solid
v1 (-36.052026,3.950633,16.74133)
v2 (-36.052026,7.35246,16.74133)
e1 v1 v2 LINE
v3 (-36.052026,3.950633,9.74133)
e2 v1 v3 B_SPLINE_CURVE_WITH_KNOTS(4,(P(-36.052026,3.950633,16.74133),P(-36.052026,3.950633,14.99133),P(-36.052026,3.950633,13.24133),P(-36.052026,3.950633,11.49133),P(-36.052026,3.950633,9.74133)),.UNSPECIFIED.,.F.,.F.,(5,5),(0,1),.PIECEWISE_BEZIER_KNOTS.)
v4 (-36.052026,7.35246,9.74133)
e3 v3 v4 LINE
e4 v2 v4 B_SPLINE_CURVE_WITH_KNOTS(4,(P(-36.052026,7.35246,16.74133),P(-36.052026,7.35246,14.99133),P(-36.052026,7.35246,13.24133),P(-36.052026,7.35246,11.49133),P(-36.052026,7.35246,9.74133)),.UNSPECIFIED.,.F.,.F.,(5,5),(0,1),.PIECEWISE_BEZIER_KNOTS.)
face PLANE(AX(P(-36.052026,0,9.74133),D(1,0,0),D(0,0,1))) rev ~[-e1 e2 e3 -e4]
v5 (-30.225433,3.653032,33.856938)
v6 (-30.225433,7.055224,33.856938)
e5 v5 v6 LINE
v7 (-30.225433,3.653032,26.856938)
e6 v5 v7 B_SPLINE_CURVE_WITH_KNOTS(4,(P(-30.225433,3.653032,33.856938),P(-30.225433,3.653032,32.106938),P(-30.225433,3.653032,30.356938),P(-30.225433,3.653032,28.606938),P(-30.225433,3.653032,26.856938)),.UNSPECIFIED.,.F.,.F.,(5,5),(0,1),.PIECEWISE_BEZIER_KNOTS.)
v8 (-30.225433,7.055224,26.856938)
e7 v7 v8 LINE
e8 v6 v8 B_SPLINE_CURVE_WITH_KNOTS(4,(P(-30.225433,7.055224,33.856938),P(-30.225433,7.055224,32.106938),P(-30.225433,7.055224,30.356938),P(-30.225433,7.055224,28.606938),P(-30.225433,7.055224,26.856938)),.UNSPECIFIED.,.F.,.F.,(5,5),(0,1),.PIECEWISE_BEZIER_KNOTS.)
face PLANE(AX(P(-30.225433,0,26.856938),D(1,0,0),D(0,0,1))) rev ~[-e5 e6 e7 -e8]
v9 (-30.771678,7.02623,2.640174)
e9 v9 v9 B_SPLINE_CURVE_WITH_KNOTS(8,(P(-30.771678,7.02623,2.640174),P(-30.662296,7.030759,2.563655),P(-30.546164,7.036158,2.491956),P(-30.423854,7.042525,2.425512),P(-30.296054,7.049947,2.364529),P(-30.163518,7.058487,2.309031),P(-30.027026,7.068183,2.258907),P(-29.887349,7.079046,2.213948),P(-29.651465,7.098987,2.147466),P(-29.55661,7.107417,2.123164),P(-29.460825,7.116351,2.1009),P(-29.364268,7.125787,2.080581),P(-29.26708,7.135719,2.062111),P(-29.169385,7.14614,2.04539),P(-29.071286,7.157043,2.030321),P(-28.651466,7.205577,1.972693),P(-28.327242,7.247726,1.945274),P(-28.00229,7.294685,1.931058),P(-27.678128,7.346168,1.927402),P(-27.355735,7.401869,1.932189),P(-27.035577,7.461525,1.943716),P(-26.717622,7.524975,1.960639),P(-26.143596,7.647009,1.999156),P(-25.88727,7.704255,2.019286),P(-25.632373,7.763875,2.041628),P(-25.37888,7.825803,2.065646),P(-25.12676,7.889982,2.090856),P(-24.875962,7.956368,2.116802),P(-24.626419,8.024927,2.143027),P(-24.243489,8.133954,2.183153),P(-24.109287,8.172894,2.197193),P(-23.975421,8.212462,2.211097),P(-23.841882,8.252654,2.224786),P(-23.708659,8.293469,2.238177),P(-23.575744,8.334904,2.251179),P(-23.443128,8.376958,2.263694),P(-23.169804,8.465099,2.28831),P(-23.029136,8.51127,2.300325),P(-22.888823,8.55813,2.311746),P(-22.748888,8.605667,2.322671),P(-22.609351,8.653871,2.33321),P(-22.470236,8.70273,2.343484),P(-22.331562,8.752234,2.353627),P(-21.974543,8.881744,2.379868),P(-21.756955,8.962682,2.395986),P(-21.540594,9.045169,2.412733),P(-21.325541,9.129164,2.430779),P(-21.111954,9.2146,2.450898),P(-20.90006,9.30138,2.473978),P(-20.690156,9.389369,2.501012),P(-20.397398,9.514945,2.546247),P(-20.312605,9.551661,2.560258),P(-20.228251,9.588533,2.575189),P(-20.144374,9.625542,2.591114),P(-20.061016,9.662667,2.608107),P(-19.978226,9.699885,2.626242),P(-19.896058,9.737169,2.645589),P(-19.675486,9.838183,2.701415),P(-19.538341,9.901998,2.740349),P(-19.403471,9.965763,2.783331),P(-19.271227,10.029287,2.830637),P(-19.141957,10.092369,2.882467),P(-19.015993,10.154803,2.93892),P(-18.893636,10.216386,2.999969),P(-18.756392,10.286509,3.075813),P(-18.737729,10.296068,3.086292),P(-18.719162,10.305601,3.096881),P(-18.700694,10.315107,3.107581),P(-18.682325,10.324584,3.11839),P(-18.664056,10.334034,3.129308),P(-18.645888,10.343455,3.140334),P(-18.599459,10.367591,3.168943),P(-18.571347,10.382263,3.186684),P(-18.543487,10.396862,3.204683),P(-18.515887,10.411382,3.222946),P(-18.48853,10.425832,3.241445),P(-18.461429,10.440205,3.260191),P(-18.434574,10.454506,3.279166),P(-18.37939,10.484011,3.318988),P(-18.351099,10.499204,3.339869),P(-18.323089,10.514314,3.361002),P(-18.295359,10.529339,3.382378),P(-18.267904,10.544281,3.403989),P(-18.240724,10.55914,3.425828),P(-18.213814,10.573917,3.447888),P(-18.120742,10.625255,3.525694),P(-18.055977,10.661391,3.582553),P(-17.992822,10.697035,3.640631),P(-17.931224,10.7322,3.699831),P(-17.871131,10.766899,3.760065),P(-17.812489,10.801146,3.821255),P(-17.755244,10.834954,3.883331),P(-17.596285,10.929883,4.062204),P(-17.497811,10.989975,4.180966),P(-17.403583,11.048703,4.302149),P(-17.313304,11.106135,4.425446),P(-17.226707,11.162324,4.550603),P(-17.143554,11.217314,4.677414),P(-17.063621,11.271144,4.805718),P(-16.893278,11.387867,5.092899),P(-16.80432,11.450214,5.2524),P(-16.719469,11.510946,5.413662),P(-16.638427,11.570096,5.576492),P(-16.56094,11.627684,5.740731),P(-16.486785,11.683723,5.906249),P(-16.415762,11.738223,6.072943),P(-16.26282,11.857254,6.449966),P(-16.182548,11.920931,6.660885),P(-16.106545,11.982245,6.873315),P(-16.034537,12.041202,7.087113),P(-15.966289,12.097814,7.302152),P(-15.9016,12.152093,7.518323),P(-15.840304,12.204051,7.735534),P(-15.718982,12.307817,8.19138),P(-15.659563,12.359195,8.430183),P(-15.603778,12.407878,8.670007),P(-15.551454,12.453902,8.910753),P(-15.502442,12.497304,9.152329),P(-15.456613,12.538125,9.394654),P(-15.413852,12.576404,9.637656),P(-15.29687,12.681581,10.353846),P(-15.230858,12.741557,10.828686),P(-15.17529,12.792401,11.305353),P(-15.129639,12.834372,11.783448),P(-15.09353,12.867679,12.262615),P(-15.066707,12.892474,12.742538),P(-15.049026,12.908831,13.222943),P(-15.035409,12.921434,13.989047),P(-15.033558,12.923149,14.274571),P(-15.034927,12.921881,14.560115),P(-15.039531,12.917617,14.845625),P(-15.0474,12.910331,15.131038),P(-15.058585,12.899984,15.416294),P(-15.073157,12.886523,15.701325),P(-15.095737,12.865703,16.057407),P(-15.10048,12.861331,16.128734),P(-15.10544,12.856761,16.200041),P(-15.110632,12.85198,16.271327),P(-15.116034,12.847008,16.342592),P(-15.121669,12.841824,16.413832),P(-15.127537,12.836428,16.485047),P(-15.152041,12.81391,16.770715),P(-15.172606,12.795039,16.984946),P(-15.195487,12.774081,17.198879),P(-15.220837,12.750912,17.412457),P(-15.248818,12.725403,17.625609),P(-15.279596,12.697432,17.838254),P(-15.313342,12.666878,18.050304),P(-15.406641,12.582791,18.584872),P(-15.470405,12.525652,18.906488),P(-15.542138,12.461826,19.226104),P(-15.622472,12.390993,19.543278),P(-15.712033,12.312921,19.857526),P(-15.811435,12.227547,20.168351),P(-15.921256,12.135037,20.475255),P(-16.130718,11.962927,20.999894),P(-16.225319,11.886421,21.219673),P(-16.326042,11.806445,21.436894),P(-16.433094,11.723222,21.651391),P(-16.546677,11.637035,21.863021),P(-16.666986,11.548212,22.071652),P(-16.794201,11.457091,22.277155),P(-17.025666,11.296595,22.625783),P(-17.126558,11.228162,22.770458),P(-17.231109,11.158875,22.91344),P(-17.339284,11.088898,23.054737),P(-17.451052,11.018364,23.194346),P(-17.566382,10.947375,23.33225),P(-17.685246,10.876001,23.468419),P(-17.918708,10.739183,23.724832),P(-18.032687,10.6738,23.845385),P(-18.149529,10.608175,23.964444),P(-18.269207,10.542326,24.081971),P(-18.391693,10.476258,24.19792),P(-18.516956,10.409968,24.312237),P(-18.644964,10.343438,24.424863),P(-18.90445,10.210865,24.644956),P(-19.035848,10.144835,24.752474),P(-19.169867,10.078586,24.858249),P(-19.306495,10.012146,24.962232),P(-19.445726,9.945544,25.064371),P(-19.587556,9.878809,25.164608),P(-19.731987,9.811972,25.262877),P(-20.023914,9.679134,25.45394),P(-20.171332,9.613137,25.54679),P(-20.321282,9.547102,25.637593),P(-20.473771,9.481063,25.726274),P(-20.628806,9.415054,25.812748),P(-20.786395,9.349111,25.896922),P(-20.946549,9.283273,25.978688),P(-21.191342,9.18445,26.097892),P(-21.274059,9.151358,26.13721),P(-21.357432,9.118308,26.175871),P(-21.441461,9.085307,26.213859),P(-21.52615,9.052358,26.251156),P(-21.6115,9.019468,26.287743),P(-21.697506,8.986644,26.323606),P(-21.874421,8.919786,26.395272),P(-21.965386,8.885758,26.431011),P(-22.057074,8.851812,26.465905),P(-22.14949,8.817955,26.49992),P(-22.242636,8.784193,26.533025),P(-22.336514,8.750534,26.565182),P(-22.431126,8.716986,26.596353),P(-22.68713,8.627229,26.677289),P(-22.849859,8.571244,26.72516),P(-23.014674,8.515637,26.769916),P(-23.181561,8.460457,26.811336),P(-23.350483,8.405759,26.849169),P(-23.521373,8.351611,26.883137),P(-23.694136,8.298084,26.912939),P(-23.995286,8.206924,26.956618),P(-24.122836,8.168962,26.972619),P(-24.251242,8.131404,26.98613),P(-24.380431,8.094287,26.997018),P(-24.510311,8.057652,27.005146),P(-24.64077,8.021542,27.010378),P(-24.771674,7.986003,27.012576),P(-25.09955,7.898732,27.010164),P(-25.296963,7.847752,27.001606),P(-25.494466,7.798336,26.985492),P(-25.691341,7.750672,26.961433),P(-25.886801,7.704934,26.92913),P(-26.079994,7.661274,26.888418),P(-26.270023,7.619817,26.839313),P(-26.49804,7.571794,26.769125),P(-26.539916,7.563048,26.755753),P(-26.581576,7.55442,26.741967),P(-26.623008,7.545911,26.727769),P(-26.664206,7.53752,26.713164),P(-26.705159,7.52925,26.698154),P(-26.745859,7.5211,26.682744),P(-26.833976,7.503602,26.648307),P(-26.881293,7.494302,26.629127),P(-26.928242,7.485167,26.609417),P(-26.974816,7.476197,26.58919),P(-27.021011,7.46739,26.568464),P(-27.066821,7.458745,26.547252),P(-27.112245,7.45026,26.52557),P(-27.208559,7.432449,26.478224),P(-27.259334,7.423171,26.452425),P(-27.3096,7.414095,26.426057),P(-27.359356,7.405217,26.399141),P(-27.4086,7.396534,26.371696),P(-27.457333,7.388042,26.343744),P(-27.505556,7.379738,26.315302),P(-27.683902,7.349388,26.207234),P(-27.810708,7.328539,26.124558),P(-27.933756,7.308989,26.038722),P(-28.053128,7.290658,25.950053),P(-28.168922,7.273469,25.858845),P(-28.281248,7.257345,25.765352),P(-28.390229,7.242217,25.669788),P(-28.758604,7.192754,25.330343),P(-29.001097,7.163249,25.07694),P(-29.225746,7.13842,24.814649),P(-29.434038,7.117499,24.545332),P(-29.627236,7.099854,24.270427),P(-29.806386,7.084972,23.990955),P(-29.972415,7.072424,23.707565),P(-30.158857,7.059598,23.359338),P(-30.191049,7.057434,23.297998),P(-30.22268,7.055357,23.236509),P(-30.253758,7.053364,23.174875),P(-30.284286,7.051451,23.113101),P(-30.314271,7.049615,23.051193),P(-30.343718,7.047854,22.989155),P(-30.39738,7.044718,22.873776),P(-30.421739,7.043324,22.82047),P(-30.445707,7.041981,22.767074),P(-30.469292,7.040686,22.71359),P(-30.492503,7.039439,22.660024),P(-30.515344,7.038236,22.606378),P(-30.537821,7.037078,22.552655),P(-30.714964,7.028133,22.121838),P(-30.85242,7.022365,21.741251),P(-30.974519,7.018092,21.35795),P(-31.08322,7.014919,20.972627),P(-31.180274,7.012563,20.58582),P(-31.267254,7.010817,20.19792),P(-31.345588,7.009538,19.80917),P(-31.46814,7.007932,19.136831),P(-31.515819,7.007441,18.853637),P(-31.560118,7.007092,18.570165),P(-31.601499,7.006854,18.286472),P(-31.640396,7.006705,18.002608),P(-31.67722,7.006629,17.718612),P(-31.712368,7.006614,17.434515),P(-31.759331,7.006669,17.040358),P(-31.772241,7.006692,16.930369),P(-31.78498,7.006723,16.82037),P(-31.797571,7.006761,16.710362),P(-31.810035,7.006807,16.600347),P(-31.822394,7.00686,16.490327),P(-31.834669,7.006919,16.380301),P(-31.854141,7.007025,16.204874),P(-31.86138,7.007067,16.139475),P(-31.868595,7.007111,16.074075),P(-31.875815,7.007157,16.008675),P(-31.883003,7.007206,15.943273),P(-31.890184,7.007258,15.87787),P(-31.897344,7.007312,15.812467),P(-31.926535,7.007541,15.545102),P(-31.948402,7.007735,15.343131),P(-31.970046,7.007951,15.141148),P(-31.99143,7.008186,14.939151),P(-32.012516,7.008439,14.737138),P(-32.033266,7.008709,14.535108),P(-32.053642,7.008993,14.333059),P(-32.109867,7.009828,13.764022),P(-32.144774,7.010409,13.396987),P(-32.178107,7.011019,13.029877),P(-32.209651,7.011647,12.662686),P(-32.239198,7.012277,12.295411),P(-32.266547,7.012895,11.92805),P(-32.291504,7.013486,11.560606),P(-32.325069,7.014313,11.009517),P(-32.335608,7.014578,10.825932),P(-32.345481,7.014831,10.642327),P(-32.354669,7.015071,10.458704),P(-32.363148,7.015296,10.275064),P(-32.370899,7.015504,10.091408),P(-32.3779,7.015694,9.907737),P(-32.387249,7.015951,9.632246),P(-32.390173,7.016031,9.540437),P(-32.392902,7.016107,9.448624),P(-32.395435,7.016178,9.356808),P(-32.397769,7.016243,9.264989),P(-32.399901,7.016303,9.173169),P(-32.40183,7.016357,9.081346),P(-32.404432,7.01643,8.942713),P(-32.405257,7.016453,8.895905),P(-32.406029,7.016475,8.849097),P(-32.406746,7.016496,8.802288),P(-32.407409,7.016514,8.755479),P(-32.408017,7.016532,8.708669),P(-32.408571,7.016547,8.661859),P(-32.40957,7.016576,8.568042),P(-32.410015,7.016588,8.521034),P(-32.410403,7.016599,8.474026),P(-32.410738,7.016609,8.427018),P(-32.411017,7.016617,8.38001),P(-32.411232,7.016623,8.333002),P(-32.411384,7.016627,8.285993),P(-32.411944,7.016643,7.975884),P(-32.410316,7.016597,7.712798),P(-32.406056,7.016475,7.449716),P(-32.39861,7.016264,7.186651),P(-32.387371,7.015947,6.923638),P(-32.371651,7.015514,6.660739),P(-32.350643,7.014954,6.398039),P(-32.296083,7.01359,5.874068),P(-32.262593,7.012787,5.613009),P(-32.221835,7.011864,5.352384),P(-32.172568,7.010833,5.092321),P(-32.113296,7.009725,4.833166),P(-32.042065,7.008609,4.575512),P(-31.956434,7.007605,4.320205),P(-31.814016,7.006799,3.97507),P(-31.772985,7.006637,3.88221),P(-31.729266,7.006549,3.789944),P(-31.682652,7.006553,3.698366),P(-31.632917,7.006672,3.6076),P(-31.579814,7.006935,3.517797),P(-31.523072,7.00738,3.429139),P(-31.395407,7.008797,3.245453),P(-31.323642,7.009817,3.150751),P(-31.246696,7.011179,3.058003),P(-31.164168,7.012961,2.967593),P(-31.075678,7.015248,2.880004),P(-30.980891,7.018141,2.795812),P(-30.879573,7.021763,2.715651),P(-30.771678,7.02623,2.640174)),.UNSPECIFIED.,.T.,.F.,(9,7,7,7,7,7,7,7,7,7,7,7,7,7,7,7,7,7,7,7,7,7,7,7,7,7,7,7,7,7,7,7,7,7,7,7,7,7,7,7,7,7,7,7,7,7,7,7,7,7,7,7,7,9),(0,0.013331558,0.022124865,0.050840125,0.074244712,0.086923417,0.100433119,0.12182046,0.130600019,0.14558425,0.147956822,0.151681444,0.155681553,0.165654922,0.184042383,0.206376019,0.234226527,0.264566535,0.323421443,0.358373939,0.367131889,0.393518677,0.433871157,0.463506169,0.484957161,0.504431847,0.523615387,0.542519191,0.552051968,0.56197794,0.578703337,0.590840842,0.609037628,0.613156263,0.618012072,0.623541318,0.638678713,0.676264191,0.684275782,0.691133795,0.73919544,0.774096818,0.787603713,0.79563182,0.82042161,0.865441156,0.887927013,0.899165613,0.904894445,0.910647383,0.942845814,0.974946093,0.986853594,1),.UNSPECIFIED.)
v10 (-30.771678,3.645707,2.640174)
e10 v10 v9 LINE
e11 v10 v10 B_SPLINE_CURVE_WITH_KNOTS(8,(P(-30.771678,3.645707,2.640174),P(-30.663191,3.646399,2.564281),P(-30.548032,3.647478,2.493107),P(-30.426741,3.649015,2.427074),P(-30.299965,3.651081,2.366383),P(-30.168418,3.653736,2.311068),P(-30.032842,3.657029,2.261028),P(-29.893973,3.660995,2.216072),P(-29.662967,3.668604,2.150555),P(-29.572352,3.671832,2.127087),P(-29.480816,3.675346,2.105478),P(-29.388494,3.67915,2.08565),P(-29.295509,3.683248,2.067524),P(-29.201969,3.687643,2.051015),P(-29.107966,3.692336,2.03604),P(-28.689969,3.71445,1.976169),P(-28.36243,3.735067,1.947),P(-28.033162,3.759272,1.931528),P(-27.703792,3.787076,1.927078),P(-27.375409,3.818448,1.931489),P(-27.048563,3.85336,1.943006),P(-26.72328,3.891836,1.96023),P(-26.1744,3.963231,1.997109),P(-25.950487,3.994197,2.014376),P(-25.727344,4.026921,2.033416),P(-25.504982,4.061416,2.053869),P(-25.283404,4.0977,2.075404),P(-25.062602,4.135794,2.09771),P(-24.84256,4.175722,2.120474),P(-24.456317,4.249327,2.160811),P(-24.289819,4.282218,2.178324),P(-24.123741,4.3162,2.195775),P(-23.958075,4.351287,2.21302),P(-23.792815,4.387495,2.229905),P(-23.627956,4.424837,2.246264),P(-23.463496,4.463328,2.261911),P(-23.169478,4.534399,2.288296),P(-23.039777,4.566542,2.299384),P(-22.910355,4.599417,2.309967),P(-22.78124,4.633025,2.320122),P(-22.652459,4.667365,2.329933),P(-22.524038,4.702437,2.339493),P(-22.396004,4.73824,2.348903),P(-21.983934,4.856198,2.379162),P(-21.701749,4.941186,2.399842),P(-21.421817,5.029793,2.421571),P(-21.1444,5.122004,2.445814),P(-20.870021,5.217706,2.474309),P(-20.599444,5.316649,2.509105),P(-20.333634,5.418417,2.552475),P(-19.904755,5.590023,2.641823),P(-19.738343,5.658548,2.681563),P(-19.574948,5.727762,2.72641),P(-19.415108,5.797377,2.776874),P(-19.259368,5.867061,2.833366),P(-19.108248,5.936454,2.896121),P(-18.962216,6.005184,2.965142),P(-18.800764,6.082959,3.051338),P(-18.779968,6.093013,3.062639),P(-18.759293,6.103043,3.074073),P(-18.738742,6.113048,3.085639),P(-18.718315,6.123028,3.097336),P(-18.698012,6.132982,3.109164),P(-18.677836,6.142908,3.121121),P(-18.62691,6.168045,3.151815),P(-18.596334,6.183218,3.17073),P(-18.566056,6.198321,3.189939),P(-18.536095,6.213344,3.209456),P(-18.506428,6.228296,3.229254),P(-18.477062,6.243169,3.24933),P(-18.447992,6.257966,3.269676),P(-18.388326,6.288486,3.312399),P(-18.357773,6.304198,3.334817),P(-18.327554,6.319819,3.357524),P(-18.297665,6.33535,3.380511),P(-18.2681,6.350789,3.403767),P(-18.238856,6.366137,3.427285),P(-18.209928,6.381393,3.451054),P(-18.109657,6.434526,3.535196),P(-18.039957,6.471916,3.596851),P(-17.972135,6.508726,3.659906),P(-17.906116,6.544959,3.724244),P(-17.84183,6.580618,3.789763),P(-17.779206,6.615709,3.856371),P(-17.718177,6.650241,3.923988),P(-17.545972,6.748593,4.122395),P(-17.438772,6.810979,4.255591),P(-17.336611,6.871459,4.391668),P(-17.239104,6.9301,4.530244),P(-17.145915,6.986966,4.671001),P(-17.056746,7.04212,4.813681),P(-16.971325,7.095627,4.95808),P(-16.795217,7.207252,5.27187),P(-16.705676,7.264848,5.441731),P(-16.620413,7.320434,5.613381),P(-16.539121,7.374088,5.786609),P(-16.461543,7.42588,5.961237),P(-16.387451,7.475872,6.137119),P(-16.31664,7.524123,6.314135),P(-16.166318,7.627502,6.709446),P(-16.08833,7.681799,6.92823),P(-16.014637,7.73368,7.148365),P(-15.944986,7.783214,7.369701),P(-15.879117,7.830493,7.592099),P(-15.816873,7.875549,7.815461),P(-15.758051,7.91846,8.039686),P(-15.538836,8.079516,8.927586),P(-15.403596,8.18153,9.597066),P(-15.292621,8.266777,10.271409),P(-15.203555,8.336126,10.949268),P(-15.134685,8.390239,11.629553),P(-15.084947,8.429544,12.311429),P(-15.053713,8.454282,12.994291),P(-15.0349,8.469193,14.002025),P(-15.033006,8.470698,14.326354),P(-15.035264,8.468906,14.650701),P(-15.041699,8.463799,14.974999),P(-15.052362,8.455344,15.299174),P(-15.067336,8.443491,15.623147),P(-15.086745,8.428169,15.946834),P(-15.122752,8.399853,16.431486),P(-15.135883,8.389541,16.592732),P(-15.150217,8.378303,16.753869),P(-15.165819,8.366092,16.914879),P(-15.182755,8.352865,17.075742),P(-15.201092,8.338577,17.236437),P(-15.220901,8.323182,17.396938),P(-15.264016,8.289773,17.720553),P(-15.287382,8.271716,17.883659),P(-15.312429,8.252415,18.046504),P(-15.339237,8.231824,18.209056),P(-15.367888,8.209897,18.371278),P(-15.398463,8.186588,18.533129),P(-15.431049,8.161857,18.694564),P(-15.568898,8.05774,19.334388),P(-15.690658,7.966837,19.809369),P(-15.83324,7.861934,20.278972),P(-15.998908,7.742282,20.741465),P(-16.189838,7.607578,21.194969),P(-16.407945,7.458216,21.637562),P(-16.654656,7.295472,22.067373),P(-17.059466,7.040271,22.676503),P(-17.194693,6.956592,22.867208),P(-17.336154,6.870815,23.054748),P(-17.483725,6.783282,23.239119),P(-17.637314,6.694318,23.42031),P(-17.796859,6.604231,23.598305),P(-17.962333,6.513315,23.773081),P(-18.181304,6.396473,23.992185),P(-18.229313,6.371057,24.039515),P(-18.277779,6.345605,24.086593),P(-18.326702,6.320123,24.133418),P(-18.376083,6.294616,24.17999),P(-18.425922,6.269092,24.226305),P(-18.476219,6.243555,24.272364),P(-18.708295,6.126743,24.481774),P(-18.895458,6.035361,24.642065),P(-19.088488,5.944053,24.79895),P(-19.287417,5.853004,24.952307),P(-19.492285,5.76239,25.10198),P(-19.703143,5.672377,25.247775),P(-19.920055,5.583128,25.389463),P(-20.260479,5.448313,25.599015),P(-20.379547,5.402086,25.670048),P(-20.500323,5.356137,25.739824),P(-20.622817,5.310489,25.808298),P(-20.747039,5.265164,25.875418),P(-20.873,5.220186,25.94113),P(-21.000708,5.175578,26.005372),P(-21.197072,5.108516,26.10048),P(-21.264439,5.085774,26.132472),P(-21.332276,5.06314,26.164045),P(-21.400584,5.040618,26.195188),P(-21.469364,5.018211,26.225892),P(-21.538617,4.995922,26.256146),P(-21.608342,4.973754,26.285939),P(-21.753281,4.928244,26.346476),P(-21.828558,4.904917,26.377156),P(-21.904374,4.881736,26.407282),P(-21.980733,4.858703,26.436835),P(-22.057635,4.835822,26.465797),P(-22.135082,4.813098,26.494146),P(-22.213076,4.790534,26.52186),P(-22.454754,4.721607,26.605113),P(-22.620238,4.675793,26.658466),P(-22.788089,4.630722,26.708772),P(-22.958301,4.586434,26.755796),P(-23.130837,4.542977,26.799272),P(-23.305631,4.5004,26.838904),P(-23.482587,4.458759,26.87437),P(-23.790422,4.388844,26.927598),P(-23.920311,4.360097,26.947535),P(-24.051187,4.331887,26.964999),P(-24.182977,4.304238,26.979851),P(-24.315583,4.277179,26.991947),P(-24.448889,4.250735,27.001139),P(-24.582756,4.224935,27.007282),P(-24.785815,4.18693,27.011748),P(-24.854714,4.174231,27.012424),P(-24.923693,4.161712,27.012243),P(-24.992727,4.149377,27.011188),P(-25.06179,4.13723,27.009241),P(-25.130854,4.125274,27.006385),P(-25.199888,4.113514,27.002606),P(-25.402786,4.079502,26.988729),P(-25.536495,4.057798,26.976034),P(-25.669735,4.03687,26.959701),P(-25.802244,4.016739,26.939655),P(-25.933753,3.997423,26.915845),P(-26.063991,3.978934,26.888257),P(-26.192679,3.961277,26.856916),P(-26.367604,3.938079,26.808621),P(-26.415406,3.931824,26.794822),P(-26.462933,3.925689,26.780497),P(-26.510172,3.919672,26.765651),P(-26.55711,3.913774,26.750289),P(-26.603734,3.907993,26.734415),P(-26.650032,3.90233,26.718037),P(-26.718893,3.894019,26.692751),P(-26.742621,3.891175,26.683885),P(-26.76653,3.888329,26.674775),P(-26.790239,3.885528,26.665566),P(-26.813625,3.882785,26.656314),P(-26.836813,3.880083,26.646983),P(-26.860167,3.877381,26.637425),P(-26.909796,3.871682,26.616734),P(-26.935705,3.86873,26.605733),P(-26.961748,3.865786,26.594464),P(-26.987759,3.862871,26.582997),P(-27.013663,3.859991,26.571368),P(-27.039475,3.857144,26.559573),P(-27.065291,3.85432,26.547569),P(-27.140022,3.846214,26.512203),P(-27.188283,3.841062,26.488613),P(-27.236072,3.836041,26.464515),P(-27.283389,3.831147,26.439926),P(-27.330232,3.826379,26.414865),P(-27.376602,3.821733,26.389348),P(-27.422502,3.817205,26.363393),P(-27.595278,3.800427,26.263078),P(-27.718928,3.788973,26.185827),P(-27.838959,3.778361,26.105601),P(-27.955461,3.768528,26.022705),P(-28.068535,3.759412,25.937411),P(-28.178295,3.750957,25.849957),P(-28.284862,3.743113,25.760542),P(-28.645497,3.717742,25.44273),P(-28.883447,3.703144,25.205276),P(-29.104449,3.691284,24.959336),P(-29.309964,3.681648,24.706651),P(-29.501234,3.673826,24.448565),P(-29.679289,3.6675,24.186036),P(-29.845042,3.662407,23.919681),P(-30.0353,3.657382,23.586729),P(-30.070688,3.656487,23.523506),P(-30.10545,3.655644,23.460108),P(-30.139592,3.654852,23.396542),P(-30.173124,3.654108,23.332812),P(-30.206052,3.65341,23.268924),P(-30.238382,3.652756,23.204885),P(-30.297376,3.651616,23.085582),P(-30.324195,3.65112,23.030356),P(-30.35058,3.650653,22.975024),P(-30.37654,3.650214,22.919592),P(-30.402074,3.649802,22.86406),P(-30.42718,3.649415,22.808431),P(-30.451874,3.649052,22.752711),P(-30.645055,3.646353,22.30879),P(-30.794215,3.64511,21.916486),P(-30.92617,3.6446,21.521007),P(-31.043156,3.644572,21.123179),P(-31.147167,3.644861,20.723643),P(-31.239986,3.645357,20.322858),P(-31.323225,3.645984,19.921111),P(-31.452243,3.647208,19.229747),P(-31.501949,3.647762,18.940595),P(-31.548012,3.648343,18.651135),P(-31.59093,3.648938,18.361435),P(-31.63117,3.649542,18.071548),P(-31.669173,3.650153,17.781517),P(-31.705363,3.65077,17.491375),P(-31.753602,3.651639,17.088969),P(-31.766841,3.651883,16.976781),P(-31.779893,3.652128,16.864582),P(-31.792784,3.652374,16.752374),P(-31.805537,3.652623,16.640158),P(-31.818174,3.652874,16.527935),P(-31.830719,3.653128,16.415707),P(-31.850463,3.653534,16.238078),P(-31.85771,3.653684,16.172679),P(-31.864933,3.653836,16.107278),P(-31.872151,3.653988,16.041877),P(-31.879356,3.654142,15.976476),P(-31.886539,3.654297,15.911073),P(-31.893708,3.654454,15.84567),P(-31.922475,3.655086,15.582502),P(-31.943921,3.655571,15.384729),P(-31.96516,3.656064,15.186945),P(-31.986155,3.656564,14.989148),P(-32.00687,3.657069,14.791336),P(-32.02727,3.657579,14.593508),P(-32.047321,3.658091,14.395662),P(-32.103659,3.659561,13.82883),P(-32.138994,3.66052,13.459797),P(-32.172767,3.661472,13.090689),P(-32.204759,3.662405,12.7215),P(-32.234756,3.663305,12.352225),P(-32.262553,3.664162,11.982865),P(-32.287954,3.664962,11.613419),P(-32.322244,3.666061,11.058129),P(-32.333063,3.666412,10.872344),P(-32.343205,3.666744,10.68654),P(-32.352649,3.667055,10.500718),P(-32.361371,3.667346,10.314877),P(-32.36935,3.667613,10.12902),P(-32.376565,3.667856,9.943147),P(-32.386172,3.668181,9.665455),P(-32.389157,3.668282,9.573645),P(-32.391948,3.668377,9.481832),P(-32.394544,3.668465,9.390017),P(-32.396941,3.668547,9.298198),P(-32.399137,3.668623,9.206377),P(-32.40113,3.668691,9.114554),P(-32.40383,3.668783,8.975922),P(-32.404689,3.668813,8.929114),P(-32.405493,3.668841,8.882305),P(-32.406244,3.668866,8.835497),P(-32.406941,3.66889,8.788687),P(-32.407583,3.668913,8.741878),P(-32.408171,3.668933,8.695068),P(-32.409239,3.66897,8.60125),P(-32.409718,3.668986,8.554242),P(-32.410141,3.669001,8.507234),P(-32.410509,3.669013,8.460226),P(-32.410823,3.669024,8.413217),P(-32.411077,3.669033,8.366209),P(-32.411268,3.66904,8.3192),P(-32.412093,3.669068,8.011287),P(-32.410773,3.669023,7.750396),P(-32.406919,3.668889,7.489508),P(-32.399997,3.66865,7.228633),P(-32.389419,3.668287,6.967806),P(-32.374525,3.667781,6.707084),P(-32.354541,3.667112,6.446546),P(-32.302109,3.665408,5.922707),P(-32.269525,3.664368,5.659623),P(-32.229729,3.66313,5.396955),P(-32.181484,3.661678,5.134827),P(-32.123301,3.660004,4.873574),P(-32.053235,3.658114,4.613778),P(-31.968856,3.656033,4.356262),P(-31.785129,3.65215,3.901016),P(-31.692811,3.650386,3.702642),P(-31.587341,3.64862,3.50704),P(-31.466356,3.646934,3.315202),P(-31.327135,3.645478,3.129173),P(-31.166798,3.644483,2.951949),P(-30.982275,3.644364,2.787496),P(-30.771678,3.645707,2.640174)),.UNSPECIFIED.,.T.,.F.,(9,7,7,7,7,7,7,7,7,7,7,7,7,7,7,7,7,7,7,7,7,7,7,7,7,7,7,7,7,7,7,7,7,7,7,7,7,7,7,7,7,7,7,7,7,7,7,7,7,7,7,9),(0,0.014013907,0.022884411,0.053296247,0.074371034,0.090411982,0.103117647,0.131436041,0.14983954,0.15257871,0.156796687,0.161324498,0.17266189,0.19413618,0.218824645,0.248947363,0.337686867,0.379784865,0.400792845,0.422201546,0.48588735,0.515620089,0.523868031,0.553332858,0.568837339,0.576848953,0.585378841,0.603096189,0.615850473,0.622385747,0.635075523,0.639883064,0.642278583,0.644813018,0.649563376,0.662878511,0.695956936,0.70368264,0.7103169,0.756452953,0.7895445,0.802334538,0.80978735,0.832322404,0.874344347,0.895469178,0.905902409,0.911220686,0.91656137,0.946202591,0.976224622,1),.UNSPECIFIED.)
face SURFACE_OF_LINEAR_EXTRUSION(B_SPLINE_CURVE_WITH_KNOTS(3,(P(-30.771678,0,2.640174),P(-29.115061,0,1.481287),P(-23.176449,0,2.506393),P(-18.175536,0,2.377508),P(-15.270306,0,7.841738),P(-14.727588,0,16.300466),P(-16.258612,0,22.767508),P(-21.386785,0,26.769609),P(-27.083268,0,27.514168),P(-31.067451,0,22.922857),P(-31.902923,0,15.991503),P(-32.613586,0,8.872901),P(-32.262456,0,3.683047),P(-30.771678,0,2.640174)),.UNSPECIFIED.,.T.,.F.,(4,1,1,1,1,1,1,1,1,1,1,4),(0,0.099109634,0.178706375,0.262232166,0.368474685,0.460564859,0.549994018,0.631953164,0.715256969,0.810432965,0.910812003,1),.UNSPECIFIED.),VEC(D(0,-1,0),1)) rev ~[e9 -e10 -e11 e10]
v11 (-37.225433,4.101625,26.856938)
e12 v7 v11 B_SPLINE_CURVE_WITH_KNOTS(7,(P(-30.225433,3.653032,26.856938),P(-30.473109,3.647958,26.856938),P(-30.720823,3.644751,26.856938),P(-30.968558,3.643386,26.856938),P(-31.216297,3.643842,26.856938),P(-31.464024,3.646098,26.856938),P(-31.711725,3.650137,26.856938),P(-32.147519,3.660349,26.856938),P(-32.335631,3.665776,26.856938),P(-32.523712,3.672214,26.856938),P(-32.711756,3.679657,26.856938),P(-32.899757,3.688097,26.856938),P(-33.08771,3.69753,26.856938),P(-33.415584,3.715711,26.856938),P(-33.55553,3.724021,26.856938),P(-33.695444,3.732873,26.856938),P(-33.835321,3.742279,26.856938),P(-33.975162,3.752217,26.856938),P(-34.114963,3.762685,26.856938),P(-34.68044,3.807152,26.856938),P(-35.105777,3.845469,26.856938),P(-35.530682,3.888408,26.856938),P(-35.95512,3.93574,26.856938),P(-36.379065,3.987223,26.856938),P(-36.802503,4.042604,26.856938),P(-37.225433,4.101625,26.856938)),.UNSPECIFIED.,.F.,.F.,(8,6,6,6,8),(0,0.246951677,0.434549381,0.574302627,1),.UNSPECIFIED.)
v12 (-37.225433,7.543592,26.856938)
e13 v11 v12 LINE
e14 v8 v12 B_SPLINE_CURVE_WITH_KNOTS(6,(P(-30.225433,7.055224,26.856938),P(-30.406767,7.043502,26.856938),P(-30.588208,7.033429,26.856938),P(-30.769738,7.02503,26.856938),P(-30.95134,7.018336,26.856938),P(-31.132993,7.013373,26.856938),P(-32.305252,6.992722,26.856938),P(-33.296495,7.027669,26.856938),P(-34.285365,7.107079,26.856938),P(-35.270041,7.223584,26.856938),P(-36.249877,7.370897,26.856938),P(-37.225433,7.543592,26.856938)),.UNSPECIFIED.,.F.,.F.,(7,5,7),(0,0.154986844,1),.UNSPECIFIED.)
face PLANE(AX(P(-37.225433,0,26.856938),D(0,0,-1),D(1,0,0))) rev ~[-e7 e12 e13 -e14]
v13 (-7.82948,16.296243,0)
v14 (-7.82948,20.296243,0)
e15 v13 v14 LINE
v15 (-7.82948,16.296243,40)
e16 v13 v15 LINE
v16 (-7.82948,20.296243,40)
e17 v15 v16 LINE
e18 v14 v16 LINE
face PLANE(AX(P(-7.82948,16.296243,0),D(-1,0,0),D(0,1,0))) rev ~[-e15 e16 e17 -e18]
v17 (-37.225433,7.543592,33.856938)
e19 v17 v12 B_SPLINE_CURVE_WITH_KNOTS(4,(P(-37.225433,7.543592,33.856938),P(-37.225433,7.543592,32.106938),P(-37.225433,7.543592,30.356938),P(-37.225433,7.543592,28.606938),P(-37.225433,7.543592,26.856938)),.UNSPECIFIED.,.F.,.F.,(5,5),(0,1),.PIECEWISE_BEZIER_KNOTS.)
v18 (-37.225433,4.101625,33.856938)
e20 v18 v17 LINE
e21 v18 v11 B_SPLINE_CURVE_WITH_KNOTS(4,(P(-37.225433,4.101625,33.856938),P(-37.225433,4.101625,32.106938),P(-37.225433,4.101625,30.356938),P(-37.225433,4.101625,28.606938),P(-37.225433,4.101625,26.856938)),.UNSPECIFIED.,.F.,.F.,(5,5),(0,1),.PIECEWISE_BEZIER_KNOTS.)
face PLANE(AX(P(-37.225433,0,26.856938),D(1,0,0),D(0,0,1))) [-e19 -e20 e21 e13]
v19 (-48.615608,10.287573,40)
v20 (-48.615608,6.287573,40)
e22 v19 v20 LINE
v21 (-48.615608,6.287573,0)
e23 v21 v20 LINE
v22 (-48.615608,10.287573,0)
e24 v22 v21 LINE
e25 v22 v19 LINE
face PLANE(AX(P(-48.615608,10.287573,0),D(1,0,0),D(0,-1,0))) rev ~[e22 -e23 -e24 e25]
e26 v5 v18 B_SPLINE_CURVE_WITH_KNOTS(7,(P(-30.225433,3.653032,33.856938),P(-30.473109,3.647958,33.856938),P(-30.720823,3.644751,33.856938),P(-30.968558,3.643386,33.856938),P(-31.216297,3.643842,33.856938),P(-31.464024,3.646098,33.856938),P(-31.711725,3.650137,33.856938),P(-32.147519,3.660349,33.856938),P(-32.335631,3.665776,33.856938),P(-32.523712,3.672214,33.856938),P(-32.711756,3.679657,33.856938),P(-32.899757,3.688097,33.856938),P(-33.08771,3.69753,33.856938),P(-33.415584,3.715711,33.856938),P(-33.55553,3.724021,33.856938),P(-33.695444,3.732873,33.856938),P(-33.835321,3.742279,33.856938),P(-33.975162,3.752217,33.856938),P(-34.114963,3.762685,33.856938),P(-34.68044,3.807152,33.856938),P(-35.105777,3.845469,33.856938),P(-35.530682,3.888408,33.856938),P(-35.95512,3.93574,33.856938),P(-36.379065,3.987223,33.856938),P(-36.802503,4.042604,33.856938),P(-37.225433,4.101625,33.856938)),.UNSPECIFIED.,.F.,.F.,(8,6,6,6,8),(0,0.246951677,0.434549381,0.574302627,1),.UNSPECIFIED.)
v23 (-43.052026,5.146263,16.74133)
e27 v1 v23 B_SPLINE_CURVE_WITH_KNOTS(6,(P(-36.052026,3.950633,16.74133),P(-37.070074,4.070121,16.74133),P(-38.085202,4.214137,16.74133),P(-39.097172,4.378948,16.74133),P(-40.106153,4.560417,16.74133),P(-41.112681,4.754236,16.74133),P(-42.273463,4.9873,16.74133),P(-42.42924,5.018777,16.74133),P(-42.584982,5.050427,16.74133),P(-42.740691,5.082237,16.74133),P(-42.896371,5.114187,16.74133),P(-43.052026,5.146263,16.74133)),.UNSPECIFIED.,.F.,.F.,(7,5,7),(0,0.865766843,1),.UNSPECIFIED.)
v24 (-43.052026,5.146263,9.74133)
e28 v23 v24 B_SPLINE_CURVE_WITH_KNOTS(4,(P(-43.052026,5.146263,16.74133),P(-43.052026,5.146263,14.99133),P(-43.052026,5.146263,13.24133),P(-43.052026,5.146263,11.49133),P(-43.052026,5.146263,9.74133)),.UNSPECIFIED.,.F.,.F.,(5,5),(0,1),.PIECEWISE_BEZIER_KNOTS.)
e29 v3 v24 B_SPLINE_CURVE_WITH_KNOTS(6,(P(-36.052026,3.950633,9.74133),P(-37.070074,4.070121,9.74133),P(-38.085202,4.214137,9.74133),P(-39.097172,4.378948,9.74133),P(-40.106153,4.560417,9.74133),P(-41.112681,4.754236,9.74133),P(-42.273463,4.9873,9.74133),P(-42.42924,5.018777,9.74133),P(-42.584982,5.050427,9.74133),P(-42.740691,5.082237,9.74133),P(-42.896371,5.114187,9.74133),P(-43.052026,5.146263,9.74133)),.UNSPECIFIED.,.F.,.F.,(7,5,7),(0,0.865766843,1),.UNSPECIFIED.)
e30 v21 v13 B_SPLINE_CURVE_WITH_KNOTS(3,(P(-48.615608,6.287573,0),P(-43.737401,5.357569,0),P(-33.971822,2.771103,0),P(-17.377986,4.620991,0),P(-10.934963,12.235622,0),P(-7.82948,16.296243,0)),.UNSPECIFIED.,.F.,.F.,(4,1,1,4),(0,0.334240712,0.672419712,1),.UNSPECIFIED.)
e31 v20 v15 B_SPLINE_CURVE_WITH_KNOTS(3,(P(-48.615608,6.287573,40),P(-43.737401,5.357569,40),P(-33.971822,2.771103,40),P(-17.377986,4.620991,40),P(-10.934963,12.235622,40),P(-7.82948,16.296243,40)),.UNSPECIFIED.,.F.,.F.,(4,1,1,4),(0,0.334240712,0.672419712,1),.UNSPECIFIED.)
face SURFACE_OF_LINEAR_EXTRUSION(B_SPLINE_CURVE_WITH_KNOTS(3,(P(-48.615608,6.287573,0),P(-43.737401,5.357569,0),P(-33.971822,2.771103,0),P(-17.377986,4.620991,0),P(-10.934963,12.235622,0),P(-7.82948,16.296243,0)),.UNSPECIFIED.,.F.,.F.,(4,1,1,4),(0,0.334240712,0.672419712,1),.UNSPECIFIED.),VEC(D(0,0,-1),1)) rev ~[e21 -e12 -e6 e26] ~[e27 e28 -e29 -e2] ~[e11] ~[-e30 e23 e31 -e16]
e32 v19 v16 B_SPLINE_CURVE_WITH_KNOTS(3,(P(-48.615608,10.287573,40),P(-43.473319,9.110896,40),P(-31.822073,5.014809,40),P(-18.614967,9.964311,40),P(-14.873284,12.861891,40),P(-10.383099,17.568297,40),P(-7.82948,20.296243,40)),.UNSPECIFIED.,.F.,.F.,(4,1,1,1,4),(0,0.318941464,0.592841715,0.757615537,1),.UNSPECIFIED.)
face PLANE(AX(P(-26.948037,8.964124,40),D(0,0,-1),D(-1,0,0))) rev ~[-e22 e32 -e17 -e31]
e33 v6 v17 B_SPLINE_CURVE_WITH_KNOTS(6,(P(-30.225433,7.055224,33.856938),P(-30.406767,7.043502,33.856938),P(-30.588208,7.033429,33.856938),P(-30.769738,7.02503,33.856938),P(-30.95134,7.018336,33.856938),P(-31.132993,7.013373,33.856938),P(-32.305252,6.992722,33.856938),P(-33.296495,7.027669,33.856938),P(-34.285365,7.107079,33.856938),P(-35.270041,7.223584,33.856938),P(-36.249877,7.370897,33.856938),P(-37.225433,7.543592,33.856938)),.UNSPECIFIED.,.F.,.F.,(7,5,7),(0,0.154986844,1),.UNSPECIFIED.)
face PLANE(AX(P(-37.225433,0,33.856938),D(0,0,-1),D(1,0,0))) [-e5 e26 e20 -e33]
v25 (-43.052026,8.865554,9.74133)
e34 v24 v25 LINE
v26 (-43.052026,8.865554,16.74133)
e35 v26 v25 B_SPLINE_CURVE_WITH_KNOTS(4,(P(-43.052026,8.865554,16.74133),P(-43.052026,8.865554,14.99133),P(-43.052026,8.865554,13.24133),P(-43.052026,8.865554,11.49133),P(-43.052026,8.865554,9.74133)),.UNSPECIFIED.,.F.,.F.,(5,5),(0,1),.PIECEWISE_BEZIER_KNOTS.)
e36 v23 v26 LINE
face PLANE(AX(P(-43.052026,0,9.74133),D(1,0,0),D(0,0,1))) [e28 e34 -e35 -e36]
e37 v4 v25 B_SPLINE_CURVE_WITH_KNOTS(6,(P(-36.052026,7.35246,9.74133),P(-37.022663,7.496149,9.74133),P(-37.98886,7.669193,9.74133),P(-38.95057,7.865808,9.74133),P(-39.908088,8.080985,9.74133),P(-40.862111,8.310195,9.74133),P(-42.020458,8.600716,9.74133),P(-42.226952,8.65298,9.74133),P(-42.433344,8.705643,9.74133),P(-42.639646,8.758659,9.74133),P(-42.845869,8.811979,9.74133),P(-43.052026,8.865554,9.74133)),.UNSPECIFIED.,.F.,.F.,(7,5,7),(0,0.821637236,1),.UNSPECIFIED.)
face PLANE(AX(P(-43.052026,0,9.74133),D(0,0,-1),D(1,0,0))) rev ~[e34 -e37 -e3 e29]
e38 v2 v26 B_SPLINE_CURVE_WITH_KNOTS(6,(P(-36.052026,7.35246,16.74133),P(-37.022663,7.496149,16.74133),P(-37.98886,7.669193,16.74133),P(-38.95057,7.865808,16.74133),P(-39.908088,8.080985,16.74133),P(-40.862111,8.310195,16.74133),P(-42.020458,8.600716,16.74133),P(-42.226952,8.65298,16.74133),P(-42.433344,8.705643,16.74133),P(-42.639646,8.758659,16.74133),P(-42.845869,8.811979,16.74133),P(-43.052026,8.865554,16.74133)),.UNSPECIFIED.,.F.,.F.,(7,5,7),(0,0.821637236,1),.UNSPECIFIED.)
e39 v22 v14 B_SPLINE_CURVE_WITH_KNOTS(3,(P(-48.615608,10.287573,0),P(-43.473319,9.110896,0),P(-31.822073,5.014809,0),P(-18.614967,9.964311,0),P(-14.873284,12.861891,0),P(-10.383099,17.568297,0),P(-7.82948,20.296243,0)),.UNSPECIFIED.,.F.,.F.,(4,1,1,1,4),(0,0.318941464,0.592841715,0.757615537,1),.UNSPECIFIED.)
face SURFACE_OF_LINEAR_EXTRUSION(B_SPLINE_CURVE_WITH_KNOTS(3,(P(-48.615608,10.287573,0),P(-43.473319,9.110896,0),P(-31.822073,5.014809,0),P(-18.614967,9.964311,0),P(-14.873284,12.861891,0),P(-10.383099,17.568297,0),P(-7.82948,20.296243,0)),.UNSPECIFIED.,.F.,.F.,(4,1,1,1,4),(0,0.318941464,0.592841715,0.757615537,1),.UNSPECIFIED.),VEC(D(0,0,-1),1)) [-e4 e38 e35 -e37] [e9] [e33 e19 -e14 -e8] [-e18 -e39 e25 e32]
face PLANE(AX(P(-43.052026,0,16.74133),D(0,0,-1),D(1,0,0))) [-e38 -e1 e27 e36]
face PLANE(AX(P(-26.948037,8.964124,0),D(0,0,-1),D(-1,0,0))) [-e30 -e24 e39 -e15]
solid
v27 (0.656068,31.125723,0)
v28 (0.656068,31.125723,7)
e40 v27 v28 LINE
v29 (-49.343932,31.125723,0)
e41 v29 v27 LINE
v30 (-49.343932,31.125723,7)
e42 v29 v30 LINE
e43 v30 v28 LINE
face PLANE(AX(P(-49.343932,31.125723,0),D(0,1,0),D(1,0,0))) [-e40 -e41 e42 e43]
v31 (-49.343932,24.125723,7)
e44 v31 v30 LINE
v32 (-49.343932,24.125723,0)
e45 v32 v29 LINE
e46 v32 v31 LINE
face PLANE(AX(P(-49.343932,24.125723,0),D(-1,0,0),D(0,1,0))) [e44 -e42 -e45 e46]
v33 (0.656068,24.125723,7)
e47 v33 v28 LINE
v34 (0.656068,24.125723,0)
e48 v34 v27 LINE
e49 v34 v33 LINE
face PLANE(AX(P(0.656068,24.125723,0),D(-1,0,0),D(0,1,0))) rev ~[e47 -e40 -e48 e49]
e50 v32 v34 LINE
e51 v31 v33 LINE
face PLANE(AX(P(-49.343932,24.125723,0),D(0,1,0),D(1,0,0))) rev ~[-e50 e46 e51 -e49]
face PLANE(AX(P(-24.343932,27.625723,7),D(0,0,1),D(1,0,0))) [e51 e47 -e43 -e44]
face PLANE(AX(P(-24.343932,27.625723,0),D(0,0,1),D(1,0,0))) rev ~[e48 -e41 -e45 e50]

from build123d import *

# Parameters (mm, degrees)
F1_DEPTH = 40
F2_W     = 7
F2_H     = 7
F3_DEPTH = 25
F4_W     = 50
F4_H     = 7
F5_DEPTH = 7


with BuildPart() as f1:
    # F0 (on Top) → F1 (new body)
    with BuildSketch(Plane.XY):
        with BuildLine():
            add(Edge.make_bspline(
                [(-48.6156083643, 10.2875726297), (-43.4733187348, 9.1108955617), (-31.8220733642, 5.0148085364), (-18.614967209, 9.9643111938), (-14.8732839652, 12.8618905652), (-10.3830992131, 17.5682967624), (-7.8294798732, 20.2962432951)],
                knots=[0, 0, 0, 0, 0.3189414643, 0.5928417153, 0.757615537, 1, 1, 1, 1], degree=3))
            Line((-48.6156083643, 10.2875726297), (-48.6156083643, 6.2875726297))
            add(Edge.make_bspline(
                [(-48.6156083643, 6.2875726297), (-43.7374007955, 5.3575686248), (-33.9718217418, 2.7711026196), (-17.3779863187, 4.6209908398), (-10.9349629168, 12.2356218457), (-7.8294798732, 16.2962432951)],
                knots=[0, 0, 0, 0, 0.3342407118, 0.6724197122, 1, 1, 1, 1], degree=3))
            Line((-7.8294798732, 16.2962432951), (-7.8294798732, 20.2962432951))
        make_face()
    extrude(amount=F1_DEPTH)

    # F2 (on Front) → F3 (cut)
    with BuildSketch(Plane.XZ):
        with Locations((-39.5520258546, 13.241329588)):
            Rectangle(F2_W, F2_H)
        with Locations((-33.7254334092, 30.356938377)):
            Rectangle(F2_W, F2_H)
        with BuildLine():
            add(Edge.make_bspline(
                [(-30.7716783136, 2.6401735377), (-29.1150607693, 1.4812871056), (-23.1764486473, 2.5063931272), (-18.1755364553, 2.3775081724), (-15.270305666, 7.8417375563), (-14.7275875267, 16.3004656814), (-16.2586119224, 22.7675075376), (-21.3867847503, 26.7696093394), (-27.0832678369, 27.5141677798), (-31.0674507155, 22.9228573012), (-31.9029228202, 15.9915029062), (-32.6135860351, 8.8729005432), (-32.2624557028, 3.6830465263), (-30.7716783136, 2.6401735377)],
                knots=[0, 0, 0, 0, 0.0991096339, 0.1787063751, 0.2622321665, 0.3684746851, 0.4605648585, 0.549994018, 0.6319531641, 0.7152569694, 0.8104329648, 0.9108120026, 1, 1, 1, 1], degree=3))
        make_face()
    extrude(amount=-F3_DEPTH, mode=Mode.SUBTRACT)


with BuildPart() as f5:
    # F4 (on Top) → F5 (new body)
    with BuildSketch(Plane.XY):
        with Locations((-24.34393242, 27.6257231683)):
            Rectangle(F4_W, F4_H)
    extrude(amount=F5_DEPTH)


solid = Compound([f1.part, f5.part])
